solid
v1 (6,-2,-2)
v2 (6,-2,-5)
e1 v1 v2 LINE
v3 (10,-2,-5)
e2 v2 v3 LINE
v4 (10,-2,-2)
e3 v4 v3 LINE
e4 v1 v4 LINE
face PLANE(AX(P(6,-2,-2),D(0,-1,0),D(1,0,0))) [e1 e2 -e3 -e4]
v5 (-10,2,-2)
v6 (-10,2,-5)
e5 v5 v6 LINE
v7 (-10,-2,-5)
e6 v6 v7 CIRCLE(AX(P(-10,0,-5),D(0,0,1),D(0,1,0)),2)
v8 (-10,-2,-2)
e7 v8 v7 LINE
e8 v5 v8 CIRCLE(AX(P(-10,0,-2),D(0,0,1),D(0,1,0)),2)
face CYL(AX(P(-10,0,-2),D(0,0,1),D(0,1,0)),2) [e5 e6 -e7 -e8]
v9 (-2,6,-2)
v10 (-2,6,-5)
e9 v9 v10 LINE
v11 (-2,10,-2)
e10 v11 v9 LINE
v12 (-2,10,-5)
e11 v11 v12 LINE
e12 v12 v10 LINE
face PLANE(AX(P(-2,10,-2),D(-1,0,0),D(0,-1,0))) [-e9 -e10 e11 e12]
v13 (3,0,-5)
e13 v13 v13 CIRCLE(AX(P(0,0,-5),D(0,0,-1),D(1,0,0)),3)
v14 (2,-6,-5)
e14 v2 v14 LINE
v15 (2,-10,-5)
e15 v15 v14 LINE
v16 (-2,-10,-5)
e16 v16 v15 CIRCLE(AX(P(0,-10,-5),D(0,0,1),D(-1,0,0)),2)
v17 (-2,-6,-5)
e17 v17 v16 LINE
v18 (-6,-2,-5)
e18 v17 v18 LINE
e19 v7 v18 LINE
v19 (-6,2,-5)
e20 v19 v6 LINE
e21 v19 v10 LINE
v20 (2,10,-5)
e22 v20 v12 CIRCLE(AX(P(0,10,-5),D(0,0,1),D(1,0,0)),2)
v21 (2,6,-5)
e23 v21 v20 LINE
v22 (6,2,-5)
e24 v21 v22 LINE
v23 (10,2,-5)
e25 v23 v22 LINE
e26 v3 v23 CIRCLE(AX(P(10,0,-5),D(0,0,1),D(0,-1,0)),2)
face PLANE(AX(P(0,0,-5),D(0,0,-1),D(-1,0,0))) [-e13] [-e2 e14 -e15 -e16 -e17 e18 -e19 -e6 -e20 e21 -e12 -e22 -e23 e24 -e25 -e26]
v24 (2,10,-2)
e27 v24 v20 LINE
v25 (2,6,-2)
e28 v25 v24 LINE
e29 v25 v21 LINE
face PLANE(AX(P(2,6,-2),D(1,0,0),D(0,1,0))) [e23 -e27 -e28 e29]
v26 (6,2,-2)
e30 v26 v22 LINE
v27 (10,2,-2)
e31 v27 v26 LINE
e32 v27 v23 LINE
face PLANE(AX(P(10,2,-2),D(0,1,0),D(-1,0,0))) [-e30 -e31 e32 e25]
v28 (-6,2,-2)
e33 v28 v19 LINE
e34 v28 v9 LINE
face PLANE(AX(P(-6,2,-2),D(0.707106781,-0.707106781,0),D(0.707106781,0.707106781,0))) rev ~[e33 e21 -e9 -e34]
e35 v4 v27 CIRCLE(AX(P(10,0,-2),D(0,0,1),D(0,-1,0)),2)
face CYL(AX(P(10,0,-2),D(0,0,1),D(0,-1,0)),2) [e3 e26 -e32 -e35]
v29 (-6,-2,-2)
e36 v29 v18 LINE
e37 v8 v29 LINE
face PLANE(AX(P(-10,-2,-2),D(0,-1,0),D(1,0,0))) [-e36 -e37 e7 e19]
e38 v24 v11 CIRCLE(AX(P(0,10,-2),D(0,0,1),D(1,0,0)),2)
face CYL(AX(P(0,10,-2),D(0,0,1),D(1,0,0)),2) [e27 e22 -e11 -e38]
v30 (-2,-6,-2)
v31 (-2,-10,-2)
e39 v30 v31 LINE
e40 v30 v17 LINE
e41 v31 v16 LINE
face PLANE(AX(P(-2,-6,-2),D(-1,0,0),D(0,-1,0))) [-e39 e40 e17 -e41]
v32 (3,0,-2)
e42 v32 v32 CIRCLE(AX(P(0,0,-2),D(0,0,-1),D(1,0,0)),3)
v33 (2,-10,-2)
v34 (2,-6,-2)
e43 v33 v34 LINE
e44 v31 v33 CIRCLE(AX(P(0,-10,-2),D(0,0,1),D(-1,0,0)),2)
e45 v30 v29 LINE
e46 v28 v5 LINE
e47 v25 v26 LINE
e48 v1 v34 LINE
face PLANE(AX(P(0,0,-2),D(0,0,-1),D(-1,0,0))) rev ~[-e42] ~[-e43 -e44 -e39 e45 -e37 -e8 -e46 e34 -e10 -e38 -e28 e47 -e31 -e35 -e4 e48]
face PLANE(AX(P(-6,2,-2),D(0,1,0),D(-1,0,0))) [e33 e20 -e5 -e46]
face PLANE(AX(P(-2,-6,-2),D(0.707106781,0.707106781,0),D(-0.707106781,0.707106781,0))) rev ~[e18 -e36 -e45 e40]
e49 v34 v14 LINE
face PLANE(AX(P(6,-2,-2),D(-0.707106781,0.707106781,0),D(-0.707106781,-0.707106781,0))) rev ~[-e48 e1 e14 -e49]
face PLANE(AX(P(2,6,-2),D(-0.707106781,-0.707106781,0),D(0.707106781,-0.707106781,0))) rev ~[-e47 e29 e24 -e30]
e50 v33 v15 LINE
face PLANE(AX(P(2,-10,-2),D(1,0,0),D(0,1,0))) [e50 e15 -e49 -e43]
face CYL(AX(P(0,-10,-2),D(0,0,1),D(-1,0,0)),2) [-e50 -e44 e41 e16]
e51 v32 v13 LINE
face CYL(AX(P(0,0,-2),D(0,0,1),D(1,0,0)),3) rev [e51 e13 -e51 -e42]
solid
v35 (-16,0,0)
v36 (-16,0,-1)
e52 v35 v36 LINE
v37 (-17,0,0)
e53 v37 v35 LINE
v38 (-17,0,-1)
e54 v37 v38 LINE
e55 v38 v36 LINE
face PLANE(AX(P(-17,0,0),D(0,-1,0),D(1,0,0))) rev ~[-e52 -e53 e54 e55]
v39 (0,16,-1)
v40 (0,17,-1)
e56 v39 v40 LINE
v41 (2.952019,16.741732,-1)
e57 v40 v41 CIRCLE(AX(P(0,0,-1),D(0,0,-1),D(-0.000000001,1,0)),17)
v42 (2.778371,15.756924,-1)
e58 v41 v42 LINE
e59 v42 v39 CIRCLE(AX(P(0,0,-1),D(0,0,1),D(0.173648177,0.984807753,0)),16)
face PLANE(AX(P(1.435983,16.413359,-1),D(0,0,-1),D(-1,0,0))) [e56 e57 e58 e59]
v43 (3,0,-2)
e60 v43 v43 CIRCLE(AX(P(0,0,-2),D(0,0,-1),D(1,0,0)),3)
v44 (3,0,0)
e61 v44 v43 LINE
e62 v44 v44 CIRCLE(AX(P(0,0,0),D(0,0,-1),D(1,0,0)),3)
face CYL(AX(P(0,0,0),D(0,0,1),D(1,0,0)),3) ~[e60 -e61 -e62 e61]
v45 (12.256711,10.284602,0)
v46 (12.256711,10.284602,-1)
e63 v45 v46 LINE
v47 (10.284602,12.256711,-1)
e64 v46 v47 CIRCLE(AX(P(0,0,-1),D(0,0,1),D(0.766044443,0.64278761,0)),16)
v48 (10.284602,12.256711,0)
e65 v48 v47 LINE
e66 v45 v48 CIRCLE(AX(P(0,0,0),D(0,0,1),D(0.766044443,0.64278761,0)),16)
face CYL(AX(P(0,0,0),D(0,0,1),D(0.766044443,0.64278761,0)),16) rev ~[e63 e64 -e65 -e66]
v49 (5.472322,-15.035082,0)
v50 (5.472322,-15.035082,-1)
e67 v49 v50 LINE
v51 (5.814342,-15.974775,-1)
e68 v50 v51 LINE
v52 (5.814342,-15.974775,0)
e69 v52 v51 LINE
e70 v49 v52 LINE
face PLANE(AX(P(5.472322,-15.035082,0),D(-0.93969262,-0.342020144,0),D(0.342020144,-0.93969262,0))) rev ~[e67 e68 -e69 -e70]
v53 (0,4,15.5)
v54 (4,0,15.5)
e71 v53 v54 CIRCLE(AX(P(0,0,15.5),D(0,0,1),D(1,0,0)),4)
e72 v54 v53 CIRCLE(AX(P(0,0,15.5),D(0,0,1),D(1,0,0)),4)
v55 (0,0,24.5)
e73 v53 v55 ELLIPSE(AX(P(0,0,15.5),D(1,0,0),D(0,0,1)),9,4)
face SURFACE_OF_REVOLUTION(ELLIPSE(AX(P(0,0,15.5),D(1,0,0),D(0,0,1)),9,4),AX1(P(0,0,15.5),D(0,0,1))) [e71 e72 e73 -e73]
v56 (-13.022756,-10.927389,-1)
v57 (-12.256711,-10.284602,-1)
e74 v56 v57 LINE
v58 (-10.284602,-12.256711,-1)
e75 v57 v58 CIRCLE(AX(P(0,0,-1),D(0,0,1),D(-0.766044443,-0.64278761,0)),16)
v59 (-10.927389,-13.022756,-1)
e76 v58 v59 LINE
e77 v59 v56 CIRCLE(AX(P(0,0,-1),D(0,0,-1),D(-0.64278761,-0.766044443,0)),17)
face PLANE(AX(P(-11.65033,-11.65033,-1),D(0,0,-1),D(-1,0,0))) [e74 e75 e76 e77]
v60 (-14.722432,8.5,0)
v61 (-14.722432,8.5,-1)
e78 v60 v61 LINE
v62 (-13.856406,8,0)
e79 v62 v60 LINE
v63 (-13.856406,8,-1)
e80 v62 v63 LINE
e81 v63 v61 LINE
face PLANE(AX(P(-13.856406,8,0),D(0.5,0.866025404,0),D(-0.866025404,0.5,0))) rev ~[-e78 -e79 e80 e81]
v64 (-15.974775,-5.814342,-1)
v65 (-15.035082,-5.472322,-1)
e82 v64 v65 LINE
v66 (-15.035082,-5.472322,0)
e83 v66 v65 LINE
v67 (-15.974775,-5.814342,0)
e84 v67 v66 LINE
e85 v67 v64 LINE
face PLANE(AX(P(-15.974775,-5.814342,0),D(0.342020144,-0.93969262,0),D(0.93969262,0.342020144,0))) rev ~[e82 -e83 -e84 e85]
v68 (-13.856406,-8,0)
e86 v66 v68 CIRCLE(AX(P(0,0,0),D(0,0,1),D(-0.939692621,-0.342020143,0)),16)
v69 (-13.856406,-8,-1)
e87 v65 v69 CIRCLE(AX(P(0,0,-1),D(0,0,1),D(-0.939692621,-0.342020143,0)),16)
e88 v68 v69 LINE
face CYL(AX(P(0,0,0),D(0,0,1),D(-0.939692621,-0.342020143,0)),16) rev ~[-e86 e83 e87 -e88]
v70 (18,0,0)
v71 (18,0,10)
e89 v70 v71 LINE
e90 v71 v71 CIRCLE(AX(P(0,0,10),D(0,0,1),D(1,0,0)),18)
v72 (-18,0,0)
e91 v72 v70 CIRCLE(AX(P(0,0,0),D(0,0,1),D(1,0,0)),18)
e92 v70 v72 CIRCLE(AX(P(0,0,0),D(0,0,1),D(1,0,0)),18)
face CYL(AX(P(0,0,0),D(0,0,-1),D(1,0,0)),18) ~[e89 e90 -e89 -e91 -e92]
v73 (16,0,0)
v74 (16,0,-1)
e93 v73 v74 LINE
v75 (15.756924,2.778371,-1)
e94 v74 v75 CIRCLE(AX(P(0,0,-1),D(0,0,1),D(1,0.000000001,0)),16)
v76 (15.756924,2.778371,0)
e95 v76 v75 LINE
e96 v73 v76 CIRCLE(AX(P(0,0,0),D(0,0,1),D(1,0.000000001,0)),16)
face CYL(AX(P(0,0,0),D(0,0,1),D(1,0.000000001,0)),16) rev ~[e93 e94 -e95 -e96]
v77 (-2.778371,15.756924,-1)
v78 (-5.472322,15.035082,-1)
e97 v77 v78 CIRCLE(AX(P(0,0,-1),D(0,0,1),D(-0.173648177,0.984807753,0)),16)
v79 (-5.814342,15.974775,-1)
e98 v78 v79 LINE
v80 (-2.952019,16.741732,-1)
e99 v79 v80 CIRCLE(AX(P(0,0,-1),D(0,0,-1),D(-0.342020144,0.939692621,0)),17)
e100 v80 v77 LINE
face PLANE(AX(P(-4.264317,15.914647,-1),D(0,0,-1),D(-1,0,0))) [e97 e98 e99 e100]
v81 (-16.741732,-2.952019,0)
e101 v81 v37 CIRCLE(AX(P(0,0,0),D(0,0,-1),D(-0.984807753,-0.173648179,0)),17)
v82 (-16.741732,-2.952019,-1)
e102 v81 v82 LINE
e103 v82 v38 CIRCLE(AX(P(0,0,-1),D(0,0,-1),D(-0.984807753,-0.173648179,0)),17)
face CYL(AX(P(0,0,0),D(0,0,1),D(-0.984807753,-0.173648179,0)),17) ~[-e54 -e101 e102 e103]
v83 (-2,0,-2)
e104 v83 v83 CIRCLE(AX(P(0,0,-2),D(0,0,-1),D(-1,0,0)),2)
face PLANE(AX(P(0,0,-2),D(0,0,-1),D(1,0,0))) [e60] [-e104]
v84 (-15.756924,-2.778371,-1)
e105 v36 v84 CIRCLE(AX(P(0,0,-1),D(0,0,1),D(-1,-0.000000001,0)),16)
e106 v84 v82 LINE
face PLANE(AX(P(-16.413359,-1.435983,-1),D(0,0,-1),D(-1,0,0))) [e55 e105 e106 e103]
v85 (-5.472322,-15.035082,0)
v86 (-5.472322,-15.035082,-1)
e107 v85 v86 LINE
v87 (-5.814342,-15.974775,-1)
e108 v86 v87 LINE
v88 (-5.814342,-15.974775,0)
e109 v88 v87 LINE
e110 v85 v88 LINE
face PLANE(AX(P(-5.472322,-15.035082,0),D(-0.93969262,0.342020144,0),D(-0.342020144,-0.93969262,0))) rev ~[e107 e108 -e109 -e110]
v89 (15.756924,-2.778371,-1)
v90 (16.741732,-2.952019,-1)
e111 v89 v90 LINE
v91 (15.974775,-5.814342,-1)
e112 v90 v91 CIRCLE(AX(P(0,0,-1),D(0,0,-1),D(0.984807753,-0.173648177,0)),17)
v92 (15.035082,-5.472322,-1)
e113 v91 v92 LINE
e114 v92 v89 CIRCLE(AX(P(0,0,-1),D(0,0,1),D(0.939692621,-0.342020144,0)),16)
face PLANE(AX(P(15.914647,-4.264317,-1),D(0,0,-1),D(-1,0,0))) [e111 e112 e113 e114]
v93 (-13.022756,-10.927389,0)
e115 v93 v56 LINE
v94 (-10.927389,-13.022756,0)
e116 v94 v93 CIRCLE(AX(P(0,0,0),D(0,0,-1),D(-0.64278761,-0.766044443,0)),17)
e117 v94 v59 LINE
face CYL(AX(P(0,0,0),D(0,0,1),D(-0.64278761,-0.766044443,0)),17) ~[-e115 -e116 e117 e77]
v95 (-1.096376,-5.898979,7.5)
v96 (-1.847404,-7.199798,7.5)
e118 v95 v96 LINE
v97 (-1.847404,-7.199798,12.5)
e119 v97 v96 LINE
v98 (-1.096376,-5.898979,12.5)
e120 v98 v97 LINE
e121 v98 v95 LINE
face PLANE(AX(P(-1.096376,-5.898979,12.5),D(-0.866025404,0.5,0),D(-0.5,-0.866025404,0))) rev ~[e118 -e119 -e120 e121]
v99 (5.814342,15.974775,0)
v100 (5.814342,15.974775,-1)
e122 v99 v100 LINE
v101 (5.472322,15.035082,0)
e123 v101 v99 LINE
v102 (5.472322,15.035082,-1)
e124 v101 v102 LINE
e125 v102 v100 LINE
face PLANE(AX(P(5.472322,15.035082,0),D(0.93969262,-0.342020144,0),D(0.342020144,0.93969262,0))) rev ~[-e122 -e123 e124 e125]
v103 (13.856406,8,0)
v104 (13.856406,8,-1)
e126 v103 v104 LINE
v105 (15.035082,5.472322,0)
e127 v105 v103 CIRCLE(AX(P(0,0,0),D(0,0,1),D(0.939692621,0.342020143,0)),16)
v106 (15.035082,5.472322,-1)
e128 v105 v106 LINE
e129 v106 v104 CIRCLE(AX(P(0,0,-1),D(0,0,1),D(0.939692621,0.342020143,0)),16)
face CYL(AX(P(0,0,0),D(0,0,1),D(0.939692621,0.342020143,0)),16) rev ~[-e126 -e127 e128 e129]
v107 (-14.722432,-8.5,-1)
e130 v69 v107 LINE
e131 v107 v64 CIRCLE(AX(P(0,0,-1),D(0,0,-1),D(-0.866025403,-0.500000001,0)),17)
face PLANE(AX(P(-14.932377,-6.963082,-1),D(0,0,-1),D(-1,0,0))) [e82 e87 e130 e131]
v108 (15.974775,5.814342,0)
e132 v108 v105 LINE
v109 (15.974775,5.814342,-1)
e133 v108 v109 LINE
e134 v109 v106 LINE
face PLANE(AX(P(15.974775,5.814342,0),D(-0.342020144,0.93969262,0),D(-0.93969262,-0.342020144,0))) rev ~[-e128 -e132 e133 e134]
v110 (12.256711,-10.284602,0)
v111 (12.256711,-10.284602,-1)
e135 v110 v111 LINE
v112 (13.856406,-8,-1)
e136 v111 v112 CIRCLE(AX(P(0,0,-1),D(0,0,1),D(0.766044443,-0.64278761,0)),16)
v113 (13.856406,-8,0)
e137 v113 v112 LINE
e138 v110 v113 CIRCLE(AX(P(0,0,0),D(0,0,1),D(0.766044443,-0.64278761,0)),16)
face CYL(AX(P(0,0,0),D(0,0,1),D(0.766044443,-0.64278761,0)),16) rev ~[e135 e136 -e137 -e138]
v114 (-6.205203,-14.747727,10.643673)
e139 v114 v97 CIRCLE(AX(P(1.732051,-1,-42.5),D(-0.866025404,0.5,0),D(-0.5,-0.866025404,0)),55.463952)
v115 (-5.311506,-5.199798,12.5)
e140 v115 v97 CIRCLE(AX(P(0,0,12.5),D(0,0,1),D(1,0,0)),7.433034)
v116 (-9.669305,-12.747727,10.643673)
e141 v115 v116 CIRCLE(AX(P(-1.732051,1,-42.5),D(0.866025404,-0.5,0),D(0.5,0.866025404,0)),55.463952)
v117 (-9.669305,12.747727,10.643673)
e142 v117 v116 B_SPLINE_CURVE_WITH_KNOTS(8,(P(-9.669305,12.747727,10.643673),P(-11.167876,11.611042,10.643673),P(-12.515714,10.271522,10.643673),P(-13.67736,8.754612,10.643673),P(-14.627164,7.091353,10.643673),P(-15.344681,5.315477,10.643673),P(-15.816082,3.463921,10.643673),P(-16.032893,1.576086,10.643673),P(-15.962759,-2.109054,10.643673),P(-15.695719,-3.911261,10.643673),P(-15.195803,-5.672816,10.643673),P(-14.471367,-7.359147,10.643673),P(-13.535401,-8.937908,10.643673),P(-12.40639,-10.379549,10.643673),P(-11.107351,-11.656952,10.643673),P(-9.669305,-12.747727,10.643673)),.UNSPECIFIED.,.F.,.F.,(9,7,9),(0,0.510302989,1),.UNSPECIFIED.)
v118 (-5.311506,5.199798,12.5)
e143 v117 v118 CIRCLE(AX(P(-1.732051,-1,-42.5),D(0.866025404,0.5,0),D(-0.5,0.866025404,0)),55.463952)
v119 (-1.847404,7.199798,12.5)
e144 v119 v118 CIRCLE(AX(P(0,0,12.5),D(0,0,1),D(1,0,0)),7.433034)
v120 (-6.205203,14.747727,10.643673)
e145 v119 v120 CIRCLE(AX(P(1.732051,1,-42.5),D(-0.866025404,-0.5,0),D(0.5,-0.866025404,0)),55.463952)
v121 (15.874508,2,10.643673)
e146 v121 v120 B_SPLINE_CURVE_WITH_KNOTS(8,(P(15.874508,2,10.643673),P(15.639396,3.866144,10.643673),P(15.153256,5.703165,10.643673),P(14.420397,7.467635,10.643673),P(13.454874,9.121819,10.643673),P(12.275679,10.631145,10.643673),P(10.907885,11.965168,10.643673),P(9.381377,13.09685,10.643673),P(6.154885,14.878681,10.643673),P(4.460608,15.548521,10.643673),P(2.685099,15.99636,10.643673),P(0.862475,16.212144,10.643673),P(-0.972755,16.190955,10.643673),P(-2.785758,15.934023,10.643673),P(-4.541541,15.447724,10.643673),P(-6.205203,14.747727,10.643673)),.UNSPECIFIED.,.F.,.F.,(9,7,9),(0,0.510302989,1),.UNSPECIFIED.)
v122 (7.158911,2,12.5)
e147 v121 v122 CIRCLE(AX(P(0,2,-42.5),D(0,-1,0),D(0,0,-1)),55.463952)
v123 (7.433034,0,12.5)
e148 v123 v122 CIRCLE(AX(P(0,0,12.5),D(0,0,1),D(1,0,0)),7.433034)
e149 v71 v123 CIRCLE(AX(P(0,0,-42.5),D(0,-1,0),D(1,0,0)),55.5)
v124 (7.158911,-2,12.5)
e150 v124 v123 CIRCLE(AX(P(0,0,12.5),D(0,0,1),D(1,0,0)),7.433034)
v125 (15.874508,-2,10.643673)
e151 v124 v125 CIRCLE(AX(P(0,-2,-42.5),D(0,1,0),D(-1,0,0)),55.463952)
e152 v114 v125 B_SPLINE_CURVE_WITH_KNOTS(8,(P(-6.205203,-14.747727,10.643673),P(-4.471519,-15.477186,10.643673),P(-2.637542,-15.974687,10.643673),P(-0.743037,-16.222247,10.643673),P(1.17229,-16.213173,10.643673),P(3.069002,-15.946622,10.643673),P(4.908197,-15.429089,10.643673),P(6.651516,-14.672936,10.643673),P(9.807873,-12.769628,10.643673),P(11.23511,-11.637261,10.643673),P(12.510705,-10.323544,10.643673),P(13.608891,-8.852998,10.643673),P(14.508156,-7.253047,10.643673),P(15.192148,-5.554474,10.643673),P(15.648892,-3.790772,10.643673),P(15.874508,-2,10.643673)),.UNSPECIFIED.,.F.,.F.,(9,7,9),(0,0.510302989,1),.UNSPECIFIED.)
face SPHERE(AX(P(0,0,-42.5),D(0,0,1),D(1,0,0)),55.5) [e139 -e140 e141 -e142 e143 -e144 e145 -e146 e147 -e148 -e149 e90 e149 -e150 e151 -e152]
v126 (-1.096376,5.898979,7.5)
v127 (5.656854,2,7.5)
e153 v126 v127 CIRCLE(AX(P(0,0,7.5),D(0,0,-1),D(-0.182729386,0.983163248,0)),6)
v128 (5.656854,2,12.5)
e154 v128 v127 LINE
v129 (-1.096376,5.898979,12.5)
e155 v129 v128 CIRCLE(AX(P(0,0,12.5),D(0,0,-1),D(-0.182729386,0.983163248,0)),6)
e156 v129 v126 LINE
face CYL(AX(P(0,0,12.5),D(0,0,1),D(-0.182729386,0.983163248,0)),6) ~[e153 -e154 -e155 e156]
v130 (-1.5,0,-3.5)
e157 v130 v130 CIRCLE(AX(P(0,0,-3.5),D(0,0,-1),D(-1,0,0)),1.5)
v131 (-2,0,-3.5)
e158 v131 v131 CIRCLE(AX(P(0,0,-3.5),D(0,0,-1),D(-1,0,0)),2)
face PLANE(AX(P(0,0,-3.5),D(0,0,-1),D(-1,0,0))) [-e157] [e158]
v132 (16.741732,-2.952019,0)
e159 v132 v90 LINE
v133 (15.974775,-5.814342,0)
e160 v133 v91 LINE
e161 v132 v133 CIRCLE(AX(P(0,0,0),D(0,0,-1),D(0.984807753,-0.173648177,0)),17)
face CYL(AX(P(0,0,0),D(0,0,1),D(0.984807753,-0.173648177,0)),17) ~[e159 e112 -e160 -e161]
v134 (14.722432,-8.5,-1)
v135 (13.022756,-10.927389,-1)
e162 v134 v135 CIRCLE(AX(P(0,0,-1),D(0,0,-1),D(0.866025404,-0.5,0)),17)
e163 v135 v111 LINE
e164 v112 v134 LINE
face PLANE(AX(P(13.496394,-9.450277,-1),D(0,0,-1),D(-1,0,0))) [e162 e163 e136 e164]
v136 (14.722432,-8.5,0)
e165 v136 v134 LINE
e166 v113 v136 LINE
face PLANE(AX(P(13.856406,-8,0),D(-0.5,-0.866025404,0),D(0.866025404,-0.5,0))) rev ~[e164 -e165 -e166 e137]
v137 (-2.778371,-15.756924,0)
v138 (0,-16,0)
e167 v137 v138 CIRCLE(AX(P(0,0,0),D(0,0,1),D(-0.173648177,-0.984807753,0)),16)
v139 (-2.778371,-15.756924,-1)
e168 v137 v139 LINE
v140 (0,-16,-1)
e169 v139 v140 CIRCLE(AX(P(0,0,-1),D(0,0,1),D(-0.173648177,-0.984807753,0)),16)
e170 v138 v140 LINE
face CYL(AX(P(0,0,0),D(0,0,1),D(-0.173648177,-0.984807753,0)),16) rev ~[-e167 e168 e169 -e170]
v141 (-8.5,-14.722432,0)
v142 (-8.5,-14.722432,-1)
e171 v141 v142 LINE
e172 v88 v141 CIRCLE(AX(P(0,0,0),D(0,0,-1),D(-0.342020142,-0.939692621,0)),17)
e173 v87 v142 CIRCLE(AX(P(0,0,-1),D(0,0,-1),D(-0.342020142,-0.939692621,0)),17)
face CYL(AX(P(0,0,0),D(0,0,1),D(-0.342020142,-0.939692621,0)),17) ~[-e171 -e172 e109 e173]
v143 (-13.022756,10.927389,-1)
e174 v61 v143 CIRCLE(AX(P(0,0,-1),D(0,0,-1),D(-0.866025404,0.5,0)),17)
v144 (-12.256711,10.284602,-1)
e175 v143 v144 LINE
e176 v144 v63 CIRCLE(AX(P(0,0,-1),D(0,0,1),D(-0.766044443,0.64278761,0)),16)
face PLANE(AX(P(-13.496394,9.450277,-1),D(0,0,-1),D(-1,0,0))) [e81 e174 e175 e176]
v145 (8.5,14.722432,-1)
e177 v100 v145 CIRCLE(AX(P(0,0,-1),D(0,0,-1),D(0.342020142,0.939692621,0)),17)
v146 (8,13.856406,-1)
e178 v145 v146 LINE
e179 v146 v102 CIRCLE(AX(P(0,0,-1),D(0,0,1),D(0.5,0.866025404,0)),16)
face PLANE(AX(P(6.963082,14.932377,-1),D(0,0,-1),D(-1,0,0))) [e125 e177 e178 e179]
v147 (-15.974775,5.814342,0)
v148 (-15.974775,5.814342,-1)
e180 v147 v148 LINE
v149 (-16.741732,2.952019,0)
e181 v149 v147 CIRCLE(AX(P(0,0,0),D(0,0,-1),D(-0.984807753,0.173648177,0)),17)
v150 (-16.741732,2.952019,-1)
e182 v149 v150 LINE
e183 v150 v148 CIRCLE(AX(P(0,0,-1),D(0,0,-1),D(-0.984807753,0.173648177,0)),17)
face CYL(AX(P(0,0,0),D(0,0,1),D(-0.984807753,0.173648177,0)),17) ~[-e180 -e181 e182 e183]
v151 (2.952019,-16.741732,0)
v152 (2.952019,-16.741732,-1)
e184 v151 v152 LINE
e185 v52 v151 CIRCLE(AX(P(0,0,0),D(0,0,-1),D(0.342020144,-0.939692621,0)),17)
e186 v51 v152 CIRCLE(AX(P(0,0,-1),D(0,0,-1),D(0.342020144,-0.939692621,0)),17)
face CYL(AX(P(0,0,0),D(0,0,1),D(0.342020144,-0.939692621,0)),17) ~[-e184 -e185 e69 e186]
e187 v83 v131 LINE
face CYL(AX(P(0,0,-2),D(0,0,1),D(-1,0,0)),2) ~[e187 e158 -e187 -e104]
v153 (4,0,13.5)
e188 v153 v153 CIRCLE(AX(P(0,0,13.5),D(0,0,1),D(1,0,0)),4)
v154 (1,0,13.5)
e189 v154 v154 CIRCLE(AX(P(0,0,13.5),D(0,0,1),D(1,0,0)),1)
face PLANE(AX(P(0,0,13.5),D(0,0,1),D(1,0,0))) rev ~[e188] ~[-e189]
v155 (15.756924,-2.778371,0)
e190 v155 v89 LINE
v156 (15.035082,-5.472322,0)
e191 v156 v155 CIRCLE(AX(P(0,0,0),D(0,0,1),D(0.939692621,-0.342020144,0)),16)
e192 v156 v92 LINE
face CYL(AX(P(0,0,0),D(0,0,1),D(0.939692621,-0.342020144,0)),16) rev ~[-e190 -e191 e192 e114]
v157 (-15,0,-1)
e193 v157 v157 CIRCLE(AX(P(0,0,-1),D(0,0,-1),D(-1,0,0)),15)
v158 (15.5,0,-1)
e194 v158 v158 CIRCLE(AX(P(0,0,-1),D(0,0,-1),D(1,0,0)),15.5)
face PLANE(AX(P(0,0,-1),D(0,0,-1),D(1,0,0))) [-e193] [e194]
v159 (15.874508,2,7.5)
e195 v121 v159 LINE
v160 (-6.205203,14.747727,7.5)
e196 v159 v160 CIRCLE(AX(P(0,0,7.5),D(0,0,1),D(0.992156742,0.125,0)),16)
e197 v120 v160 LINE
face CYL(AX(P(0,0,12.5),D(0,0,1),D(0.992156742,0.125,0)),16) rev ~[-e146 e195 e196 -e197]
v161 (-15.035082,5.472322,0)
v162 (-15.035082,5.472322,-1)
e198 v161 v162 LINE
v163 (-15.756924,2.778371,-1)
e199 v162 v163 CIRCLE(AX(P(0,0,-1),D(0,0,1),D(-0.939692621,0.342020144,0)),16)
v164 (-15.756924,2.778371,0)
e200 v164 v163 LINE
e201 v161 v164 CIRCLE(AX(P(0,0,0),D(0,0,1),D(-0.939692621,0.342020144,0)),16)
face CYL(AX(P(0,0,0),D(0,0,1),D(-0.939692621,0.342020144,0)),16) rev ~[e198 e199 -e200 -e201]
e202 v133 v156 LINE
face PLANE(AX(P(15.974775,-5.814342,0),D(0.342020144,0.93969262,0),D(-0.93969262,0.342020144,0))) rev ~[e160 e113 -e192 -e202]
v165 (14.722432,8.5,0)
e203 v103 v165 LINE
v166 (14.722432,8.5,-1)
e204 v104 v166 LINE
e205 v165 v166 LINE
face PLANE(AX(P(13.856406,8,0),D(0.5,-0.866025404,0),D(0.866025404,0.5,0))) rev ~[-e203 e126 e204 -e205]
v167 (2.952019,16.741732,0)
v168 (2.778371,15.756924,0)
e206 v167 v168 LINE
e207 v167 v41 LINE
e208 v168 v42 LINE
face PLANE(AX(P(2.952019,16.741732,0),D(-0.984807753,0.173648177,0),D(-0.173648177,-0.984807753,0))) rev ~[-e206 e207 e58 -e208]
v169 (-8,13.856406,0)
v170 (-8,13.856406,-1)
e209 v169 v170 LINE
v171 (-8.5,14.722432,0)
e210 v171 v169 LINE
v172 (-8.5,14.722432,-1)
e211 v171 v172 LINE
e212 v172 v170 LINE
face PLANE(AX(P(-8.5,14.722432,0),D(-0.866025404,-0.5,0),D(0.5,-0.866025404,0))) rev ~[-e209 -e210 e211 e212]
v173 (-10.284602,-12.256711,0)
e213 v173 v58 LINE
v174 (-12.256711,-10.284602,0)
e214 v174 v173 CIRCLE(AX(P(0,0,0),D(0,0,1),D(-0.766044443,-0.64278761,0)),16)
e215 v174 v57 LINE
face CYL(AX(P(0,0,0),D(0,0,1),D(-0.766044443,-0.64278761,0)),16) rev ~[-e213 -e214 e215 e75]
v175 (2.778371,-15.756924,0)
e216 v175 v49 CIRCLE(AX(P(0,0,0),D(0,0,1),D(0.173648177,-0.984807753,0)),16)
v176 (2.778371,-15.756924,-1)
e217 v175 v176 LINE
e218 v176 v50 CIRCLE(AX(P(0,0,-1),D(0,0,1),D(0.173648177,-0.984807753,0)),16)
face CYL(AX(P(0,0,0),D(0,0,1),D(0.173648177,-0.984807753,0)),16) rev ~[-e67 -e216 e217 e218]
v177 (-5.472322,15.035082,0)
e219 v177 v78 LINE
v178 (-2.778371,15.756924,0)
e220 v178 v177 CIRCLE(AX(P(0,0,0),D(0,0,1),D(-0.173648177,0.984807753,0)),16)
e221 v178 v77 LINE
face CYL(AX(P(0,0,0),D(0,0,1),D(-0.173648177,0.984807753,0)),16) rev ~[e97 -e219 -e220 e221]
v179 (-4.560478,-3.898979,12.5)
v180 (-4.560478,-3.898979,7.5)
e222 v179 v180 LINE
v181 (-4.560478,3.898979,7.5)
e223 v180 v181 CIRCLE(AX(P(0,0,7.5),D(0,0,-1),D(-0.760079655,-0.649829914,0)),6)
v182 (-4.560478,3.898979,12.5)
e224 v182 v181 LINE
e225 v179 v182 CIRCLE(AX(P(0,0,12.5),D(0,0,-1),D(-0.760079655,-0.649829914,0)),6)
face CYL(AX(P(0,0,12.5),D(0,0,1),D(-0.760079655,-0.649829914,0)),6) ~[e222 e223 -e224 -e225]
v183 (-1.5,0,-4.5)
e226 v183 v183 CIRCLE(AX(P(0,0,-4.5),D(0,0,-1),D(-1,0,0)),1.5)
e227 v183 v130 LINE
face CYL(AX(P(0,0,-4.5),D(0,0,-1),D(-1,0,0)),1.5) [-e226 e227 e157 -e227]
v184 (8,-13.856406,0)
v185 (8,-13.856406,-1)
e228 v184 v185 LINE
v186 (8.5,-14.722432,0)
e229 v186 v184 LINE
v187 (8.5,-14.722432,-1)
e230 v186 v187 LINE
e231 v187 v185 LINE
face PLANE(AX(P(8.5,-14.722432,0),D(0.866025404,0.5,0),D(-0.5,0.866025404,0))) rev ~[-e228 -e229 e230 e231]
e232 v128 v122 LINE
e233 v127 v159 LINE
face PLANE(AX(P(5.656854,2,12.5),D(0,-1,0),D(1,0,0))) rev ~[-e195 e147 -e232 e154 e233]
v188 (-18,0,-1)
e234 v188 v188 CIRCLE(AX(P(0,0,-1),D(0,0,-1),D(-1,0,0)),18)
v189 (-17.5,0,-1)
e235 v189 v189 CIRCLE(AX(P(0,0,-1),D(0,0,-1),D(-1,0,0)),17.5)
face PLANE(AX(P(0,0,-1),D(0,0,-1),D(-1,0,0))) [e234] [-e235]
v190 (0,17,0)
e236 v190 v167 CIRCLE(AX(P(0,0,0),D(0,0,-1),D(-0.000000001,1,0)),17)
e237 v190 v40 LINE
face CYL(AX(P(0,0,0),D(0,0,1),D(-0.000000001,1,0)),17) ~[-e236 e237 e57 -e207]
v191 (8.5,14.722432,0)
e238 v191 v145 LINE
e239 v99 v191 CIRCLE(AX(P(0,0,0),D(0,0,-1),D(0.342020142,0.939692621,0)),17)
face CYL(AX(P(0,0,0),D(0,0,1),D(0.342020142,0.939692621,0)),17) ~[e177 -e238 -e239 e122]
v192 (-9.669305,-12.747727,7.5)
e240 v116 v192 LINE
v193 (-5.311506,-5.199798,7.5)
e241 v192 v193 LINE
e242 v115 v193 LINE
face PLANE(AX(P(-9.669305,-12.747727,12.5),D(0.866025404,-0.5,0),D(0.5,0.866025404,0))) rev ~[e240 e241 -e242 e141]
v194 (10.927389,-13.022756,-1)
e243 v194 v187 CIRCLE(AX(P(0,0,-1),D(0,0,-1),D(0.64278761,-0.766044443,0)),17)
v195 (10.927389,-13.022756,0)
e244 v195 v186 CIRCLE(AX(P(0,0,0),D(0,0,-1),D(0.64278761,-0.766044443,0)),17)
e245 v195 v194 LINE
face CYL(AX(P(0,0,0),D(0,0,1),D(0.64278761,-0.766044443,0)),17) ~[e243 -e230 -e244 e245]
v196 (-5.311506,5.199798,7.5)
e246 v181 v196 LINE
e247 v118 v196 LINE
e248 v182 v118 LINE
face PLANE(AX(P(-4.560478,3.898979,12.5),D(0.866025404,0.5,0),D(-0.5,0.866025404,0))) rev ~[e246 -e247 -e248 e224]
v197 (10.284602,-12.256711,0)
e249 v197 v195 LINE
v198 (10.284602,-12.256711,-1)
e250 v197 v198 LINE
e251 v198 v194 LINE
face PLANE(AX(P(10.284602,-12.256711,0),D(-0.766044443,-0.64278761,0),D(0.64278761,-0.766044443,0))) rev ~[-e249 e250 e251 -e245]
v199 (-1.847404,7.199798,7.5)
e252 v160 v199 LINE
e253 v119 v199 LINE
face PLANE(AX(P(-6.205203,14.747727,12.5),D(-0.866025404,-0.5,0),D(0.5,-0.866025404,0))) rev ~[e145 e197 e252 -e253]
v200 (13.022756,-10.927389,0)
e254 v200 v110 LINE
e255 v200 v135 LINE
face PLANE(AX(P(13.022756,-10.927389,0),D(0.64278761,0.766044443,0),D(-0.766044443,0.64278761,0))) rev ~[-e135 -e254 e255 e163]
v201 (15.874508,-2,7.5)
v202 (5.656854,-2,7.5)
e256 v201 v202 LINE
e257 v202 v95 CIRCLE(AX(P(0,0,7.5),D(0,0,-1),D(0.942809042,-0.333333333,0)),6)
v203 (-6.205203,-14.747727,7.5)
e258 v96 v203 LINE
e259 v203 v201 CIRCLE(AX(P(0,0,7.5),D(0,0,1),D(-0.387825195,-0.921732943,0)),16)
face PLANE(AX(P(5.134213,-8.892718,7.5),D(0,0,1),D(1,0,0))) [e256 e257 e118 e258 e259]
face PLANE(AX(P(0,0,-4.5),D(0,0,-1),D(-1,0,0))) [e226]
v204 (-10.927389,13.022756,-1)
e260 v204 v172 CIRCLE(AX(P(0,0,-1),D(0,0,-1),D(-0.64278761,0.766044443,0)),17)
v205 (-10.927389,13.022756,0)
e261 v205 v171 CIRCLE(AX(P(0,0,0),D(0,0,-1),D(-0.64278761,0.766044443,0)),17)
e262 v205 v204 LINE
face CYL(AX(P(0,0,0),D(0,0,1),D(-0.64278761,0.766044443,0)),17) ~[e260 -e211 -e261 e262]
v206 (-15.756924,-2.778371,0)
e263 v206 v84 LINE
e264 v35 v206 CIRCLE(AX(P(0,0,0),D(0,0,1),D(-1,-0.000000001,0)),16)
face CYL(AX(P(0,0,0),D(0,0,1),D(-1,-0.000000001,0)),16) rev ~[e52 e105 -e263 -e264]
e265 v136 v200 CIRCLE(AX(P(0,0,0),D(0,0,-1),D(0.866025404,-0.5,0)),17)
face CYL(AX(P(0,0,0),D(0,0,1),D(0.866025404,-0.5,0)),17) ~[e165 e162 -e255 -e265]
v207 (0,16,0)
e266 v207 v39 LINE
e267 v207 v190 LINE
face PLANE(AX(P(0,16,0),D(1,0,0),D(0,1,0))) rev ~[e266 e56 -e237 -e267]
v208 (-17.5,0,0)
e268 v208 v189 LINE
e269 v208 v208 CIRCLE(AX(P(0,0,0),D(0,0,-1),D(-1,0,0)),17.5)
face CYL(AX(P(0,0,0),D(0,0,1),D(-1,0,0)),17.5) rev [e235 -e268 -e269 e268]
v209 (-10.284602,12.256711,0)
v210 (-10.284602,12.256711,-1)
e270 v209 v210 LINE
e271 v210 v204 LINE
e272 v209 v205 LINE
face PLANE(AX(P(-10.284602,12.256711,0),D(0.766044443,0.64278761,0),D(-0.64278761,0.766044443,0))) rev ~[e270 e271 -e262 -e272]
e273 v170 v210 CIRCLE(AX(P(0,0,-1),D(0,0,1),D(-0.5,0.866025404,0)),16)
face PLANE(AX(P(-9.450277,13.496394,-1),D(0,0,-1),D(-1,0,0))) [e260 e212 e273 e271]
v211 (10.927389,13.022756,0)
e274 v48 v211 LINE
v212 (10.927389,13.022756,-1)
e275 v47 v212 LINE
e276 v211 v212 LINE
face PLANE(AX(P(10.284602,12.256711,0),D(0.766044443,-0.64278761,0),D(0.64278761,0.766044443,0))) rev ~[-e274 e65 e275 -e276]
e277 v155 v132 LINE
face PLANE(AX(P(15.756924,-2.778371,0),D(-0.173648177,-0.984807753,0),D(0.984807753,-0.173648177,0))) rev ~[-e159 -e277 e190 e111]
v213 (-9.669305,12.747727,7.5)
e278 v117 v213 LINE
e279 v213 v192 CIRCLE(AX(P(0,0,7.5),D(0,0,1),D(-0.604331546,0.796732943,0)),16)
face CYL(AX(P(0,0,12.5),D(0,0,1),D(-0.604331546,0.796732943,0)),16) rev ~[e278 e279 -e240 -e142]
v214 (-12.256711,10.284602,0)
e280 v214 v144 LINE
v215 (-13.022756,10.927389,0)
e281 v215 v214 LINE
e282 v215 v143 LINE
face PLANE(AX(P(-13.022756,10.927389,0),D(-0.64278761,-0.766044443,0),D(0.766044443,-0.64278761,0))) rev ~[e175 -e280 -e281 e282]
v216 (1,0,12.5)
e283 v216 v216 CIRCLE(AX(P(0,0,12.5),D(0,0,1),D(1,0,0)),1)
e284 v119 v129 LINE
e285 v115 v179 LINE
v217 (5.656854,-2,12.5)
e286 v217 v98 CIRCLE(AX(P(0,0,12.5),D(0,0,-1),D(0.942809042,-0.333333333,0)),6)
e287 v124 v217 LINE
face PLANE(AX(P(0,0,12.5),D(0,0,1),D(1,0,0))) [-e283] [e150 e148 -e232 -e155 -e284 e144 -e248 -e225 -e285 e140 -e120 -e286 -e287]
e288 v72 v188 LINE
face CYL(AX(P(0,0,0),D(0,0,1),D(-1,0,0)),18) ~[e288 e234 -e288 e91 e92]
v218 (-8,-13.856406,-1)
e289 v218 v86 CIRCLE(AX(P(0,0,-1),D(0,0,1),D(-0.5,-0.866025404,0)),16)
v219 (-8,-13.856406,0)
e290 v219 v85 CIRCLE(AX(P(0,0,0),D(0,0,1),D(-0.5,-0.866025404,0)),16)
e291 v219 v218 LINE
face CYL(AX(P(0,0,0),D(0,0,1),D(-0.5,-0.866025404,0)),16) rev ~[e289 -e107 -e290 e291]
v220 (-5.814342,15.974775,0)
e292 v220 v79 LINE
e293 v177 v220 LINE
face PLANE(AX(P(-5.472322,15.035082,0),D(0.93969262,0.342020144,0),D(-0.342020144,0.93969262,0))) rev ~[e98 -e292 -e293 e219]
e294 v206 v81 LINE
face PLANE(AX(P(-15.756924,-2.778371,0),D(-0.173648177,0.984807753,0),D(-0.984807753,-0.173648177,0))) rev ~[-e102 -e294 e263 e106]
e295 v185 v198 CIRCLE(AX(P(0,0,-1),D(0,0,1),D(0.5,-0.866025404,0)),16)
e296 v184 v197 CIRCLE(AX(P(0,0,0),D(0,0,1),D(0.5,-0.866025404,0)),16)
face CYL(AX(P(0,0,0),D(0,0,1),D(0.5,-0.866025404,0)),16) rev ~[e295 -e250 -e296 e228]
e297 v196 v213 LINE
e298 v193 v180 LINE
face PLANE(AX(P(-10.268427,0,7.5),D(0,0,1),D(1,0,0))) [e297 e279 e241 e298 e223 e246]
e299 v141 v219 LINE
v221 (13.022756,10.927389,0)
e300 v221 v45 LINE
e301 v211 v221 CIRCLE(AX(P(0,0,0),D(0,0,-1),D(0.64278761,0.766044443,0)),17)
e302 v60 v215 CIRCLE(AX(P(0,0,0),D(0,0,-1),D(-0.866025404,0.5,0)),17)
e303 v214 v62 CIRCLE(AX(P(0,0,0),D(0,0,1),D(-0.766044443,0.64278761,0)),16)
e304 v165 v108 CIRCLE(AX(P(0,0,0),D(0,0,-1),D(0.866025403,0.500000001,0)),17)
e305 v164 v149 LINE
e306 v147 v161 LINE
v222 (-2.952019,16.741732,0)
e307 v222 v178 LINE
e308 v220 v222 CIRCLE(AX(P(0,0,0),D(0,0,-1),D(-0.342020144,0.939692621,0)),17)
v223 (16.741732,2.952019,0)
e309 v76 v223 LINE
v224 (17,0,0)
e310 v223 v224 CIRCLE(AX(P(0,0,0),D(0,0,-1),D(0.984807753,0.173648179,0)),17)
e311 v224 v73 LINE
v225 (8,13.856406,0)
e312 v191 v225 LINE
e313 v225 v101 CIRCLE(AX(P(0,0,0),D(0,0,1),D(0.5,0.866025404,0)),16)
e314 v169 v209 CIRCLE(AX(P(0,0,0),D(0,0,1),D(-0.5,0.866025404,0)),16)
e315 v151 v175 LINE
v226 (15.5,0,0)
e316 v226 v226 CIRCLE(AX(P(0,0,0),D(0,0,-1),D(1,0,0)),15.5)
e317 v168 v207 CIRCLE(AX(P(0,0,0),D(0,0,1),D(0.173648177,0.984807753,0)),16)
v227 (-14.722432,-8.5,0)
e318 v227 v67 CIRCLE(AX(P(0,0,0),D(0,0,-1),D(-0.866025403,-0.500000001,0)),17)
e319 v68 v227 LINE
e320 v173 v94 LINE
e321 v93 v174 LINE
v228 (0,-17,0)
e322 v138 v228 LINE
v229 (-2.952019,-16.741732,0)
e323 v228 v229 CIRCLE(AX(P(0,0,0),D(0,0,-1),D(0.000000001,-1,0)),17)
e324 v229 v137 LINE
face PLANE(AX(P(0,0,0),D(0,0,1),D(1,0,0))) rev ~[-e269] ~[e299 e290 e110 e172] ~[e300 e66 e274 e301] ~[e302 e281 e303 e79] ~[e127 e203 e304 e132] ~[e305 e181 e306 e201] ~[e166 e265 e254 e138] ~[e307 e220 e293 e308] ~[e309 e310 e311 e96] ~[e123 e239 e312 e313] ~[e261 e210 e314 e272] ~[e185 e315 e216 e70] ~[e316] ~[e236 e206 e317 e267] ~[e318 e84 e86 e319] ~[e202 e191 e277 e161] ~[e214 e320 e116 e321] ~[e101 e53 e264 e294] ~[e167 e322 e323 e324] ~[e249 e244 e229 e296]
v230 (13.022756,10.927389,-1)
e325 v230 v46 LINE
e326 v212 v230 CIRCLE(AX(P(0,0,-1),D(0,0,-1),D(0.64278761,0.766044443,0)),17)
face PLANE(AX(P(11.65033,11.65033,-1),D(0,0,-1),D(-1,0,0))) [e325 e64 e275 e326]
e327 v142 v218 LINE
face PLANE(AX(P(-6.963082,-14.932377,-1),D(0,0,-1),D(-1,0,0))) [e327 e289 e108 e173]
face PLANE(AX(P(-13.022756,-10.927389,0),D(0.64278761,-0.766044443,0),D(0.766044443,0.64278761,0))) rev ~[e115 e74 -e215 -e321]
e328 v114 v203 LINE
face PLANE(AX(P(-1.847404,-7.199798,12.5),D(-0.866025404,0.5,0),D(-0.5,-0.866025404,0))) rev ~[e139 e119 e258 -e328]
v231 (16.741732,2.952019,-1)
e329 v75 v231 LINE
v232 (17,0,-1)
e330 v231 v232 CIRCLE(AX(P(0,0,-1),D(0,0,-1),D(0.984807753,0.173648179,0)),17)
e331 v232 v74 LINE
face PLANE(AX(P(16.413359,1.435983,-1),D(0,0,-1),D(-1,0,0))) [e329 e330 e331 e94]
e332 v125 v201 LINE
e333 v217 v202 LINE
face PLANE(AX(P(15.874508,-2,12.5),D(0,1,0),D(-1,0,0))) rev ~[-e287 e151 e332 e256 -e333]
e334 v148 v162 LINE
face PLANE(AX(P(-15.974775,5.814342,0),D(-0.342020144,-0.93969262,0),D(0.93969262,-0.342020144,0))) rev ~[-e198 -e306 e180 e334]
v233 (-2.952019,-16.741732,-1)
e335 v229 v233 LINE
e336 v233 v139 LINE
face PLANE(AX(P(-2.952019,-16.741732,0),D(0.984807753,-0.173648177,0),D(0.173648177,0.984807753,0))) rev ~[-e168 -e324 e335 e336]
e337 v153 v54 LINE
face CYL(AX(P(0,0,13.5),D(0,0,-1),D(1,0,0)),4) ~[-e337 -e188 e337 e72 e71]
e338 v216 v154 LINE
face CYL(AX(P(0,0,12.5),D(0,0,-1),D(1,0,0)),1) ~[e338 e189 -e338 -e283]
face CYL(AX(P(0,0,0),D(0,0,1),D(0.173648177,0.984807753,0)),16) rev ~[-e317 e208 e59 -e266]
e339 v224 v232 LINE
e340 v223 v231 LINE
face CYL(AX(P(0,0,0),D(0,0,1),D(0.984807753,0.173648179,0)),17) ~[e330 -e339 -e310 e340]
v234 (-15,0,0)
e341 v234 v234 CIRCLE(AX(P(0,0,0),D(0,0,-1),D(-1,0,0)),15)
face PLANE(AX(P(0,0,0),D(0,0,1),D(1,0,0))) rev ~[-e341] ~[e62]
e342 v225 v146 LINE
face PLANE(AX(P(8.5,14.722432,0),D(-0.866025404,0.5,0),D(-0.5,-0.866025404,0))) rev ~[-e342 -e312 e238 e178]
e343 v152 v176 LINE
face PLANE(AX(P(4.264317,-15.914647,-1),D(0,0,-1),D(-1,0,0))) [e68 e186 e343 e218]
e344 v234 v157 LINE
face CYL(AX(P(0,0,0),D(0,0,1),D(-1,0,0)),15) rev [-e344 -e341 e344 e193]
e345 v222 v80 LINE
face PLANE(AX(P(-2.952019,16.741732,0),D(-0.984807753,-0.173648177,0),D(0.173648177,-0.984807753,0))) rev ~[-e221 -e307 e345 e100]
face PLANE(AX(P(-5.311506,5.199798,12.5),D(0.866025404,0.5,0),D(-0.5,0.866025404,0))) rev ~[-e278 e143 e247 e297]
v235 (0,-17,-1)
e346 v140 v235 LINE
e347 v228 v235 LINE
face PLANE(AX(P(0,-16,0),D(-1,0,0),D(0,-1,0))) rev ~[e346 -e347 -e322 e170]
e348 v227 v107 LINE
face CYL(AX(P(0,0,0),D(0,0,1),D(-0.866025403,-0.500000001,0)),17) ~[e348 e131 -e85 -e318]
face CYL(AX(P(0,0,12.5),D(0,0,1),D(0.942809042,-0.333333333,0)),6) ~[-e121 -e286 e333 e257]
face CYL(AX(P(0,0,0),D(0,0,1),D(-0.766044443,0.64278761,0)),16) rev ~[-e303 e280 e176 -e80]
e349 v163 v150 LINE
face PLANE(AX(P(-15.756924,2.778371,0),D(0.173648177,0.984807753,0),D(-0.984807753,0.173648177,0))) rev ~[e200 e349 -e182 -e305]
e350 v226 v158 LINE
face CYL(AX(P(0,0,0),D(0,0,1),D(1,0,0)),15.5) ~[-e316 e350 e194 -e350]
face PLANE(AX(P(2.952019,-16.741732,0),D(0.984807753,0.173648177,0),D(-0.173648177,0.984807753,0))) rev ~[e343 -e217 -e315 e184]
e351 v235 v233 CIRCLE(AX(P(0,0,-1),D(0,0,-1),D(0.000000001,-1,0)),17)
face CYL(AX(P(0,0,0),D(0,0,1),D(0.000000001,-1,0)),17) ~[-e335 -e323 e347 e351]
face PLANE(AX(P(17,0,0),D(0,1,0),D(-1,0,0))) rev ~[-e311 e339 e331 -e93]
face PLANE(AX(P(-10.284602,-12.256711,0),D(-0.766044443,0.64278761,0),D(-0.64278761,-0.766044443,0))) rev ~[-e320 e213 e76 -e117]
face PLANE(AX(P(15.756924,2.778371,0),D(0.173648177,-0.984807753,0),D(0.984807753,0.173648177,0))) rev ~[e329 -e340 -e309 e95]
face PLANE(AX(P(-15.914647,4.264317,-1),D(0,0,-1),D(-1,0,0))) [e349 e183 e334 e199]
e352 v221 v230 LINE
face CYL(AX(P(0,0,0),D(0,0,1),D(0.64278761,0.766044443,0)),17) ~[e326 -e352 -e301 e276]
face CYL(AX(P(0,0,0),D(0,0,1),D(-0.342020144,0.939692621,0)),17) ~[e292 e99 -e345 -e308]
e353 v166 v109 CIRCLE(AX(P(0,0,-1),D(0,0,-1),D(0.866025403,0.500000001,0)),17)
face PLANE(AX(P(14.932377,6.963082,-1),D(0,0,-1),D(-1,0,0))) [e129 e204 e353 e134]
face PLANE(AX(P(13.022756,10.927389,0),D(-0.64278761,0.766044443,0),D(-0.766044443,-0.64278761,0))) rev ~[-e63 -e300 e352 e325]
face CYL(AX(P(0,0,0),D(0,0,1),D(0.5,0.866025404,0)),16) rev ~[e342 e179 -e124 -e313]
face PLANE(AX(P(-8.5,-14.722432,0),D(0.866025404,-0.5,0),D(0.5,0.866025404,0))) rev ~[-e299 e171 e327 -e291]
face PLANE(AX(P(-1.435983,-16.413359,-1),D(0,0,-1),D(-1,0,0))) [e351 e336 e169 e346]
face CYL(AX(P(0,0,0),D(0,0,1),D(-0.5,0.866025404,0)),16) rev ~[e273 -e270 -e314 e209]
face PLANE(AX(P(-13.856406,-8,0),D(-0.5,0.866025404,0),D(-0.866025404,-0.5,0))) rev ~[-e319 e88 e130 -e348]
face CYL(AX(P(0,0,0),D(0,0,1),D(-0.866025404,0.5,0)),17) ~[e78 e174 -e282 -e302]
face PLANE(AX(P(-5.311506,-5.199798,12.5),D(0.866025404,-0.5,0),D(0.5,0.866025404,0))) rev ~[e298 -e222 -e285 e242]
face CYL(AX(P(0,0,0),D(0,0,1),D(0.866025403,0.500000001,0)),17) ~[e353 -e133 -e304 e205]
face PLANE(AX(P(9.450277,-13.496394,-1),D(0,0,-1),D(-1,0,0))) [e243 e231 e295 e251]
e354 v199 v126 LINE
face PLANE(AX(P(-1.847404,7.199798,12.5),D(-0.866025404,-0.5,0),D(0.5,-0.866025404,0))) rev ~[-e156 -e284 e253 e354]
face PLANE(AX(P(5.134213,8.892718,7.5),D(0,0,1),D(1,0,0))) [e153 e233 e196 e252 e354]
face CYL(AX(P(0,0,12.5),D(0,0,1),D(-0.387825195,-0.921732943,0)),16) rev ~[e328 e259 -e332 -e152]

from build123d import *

# Parameters (mm, degrees)
SKETCH1_R            = 18
BOSS_EXTRUDE1_DEPTH  = 10
SKETCH5_R            = 3
BOSS_EXTRUDE4_DEPTH  = 2
BOSS_EXTRUDE9_DEPTH  = 3
CUT_EXTRUDE3_START   = -3
SKETCH12_R           = 3
SKETCH12_R_2         = 2
CUT_EXTRUDE3_DEPTH   = 3
SKETCH13_R           = 2.003734505
CUT_EXTRUDE4_DEPTH   = 0.5
SKETCH14_R           = 2
SKETCH14_R_2         = 1.5
CUT_EXTRUDE5_DEPTH   = 1
DOME4_FACE_RADIUS    = 18
DOME4_HEIGHT         = 3
SKETCH23_R           = 8
CUT_EXTRUDE16_DEPTH  = 9
CUT_EXTRUDE19_DEPTH  = 5
SKETCH26_R           = 1
BOSS_EXTRUDE10_DEPTH = 1
SKETCH27_R           = 4
BOSS_EXTRUDE12_DEPTH = 2
DOME5_FACE_RADIUS    = 4
DOME5_HEIGHT         = 9
BOSS_EXTRUDE15_DEPTH = 1
SKETCH29_R           = 18
SKETCH29_R_2         = 17.5
BOSS_EXTRUDE16_DEPTH = 1
SKETCH30_R           = 15.5
SKETCH30_R_2         = 15
BOSS_EXTRUDE17_DEPTH = 1


with BuildPart() as part:
    # Sketch1 → Boss-Extrude1 (new body)
    with BuildSketch(Plane.XY):
        Circle(SKETCH1_R)
    extrude(amount=BOSS_EXTRUDE1_DEPTH)

    # Sketch5 → Boss-Extrude4 (add)
    with BuildSketch(Plane(origin=(0, 0, 0), x_dir=(-1, 0, 0), z_dir=(0, 0, -1))):
        with Locations(Location((0, 0, 0), (0, 0, 180))):
            Circle(SKETCH5_R)
    extrude(amount=BOSS_EXTRUDE4_DEPTH)

    # Sketch6 → Boss-Extrude9 (add)
    with BuildSketch(Plane(origin=(0, 0, -2), x_dir=(-1, 0, 0), z_dir=(0, 0, -1))):
        Polygon((0, 8), (-8, 0), (0, -8), (8, 0), align=None)
        with BuildLine():
            Line((-10, 2), (10, 2))
            ThreePointArc((10, 2), (12, 0), (10, -2))
            Line((10, -2), (-10, -2))
            ThreePointArc((-10, -2), (-12, 0), (-10, 2))
        make_face()
        with BuildLine():
            Line((2, 10), (2, -10))
            ThreePointArc((2, -10), (0, -12), (-2, -10))
            Line((-2, -10), (-2, 10))
            ThreePointArc((-2, 10), (0, 12), (2, 10))
        make_face()
    extrude(amount=BOSS_EXTRUDE9_DEPTH)

    # Sketch12 → Cut-Extrude3 (cut)
    with BuildSketch(Plane(origin=(0, 0, -5), x_dir=(-1, 0, 0), z_dir=(0, 0, -1)).offset(CUT_EXTRUDE3_START)):
        with Locations(Location((0, 0, 0), (0, 0, 180))):
            Circle(SKETCH12_R)
        Circle(SKETCH12_R_2, mode=Mode.SUBTRACT)
    extrude(amount=CUT_EXTRUDE3_DEPTH, mode=Mode.SUBTRACT)


with BuildPart() as cut_extrude3_piece_1:
    # of the separate pieces the step leaves, piece 1, a body of its own (cut_extrude3_pieces)
    add(part.part.solids().sort_by_distance((3, 0, 0))[0])

    # Sketch13 → Cut-Extrude4 (cut)
    with BuildSketch(Plane(origin=(0, 0, -5), x_dir=(-1, 0, 0), z_dir=(0, 0, -1))):
        Circle(SKETCH13_R)
    extrude(amount=-CUT_EXTRUDE4_DEPTH, mode=Mode.SUBTRACT)

    # Sketch14 → Cut-Extrude5 (cut)
    with BuildSketch(Plane(origin=(0, 0, -4.5), x_dir=(-1, 0, 0), z_dir=(0, 0, -1))):
        Circle(SKETCH14_R)
        Circle(SKETCH14_R_2, mode=Mode.SUBTRACT)
    extrude(amount=-CUT_EXTRUDE5_DEPTH, mode=Mode.SUBTRACT)

    # Dome4: a dome of height H over a round flat face of radius A is a cap of a sphere of radius (A * A + H * H) / (2 * H)
    dome4_r = (DOME4_FACE_RADIUS * DOME4_FACE_RADIUS + DOME4_HEIGHT * DOME4_HEIGHT) / (2 * DOME4_HEIGHT)
    dome4_base = Plane((0, 0, 10), z_dir=(0, 0, 1))
    with Locations(dome4_base.offset(DOME4_HEIGHT - dome4_r)):
        dome4_ball = Sphere(dome4_r, mode=Mode.PRIVATE)
    add(split(dome4_ball, bisect_by=dome4_base, keep=Keep.TOP, mode=Mode.PRIVATE))

    # Sketch23 → Cut-Extrude16 (cut)
    with BuildSketch(Plane.XY.offset(12.5)):
        Circle(SKETCH23_R)
    extrude(amount=CUT_EXTRUDE16_DEPTH, mode=Mode.SUBTRACT)

    # Sketch25 → Cut-Extrude19 (cut)
    with BuildSketch(Plane.XY.offset(12.5)):
        with BuildLine():
            ThreePointArc((7.158910532, -2), (3.716517187, -6.437196595), (-1.847404458, -7.199798384))
            Line((-1.847404458, -7.199798384), (-6.205203126, -14.747727085))
            ThreePointArc((-6.205203126, -14.747727085), (8, -13.856406461), (15.874507866, -2))
            Line((15.874507866, -2), (7.158910532, -2))
        make_face()
        with BuildLine():
            ThreePointArc((5.656854249, -2), (3, -5.196152423), (-1.096376317, -5.898979486))
            Line((-1.096376317, -5.898979486), (-1.847404458, -7.199798384))
            ThreePointArc((-1.847404458, -7.199798384), (3.716517187, -6.437196595), (7.158910532, -2))
            Line((7.158910532, -2), (5.656854249, -2))
        make_face()
        with BuildLine():
            Line((-9.669304741, -12.747727085), (-5.311506073, -5.199798384))
            ThreePointArc((-5.311506073, -5.199798384), (-7.433034374, 0), (-5.311506073, 5.199798384))
            Line((-5.311506073, 5.199798384), (-9.669304741, 12.747727085))
            ThreePointArc((-9.669304741, 12.747727085), (-16, 0), (-9.669304741, -12.747727085))
        make_face()
        with BuildLine():
            Line((-5.311506073, -5.199798384), (-4.560477932, -3.898979486))
            ThreePointArc((-4.560477932, -3.898979486), (-6, 0), (-4.560477932, 3.898979486))
            Line((-4.560477932, 3.898979486), (-5.311506073, 5.199798384))
            ThreePointArc((-5.311506073, 5.199798384), (-7.433034374, 0), (-5.311506073, -5.199798384))
        make_face()
        with BuildLine():
            Line((-6.205203126, 14.747727085), (-1.847404458, 7.199798384))
            ThreePointArc((-1.847404458, 7.199798384), (3.716517187, 6.437196595), (7.158910532, 2))
            Line((7.158910532, 2), (15.874507866, 2))
            ThreePointArc((15.874507866, 2), (8, 13.856406461), (-6.205203126, 14.747727085))
        make_face()
        with BuildLine():
            Line((-1.847404458, 7.199798384), (-1.096376317, 5.898979486))
            ThreePointArc((-1.096376317, 5.898979486), (3, 5.196152423), (5.656854249, 2))
            Line((5.656854249, 2), (7.158910532, 2))
            ThreePointArc((7.158910532, 2), (3.716517187, 6.437196595), (-1.847404458, 7.199798384))
        make_face()
    extrude(amount=-CUT_EXTRUDE19_DEPTH, mode=Mode.SUBTRACT)

    # Sketch26 → Boss-Extrude10 (add)
    with BuildSketch(Plane.XY.offset(12.5)):
        Circle(SKETCH26_R)
    extrude(amount=BOSS_EXTRUDE10_DEPTH)

    # Sketch27 → Boss-Extrude12 (add)
    with BuildSketch(Plane.XY.offset(13.5)):
        Circle(SKETCH27_R)
    extrude(amount=BOSS_EXTRUDE12_DEPTH)

    # Dome5: an elliptical dome of height H over a round flat face of radius A is half a spheroid: the quarter ellipse of half axes A and H revolved about the face's axis
    with BuildSketch(Plane((0, 0, 15.5), x_dir=(0, 1, 0), z_dir=(1, 0, 0)), mode=Mode.PRIVATE) as dome5_quarter:
        Ellipse(DOME5_FACE_RADIUS, DOME5_HEIGHT)
        Rectangle(DOME5_FACE_RADIUS, DOME5_HEIGHT, align=(Align.MIN, Align.MIN), mode=Mode.INTERSECT)
    revolve(dome5_quarter.sketch, axis=Axis((0, 0, 15.5), (0, 0, 1)))

    # Sketch28 → Boss-Extrude15 (add)
    with BuildSketch(Plane(origin=(0, 0, 0), x_dir=(-1, 0, 0), z_dir=(0, 0, -1))):
        with BuildLine():
            Line((-13.022755533, -10.927389365), (-12.25671109, -10.284601755))
            ThreePointArc((-12.25671109, -10.284601755), (-13.106432709, -9.177222982), (-13.856406461, -8))
            Line((-13.856406461, -8), (-14.722431864, -8.5))
            ThreePointArc((-14.722431864, -8.5), (-13.925584753, -9.750799418), (-13.022755533, -10.927389365))
        make_face()
        with BuildLine():
            Line((-15.974774553, -5.814342437), (-15.035081933, -5.472322293))
            ThreePointArc((-15.035081933, -5.472322293), (-15.454813221, -4.141104722), (-15.756924048, -2.778370843))
            Line((-15.756924048, -2.778370843), (-16.741731801, -2.95201902))
            ThreePointArc((-16.741731801, -2.95201902), (-16.420739047, -4.399923767), (-15.974774553, -5.814342437))
        make_face()
        with BuildLine():
            Line((-17, 0), (-16, 0))
            ThreePointArc((-16, 0), (-15.939115169, 1.394491884), (-15.756924048, 2.778370843))
            Line((-15.756924048, 2.778370843), (-16.741731801, 2.95201902))
            ThreePointArc((-16.741731801, 2.95201902), (-16.935309868, 1.481647627), (-17, 0))
        make_face()
        with BuildLine():
            Line((-15.974774553, 5.814342437), (-15.035081933, 5.472322293))
            ThreePointArc((-15.035081933, 5.472322293), (-14.500924593, 6.761892188), (-13.856406461, 8))
            Line((-13.856406461, 8), (-14.722431864, 8.5))
            ThreePointArc((-14.722431864, 8.5), (-15.40723238, 7.18451045), (-15.974774553, 5.814342437))
        make_face()
        with BuildLine():
            Line((-13.022755533, 10.927389365), (-12.25671109, 10.284601755))
            ThreePointArc((-12.25671109, 10.284601755), (-11.313708499, 11.313708499), (-10.284601755, 12.25671109))
            Line((-10.284601755, 12.25671109), (-10.927389365, 13.022755533))
            ThreePointArc((-10.927389365, 13.022755533), (-12.02081528, 12.02081528), (-13.022755533, 10.927389365))
        make_face()
        with BuildLine():
            Line((-8.5, 14.722431864), (-8, 13.856406461))
            ThreePointArc((-8, 13.856406461), (-6.761892188, 14.500924593), (-5.472322293, 15.035081933))
            Line((-5.472322293, 15.035081933), (-5.814342437, 15.974774553))
            ThreePointArc((-5.814342437, 15.974774553), (-7.18451045, 15.40723238), (-8.5, 14.722431864))
        make_face()
        with BuildLine():
            ThreePointArc((-2.778370843, 15.756924048), (-1.394491884, 15.939115169), (0, 16))
            Line((0, 16), (0, 17))
            ThreePointArc((0, 17), (-1.481647627, 16.935309868), (-2.95201902, 16.741731801))
            Line((-2.95201902, 16.741731801), (-2.778370843, 15.756924048))
        make_face()
        with BuildLine():
            Line((13.022755533, -10.927389365), (12.25671109, -10.284601755))
            ThreePointArc((12.25671109, -10.284601755), (11.313708499, -11.313708499), (10.284601755, -12.25671109))
            Line((10.284601755, -12.25671109), (10.927389365, -13.022755533))
            ThreePointArc((10.927389365, -13.022755533), (12.02081528, -12.02081528), (13.022755533, -10.927389365))
        make_face()
        with BuildLine():
            Line((2.95201902, 16.741731801), (2.778370843, 15.756924048))
            ThreePointArc((2.778370843, 15.756924048), (4.141104722, 15.454813221), (5.472322293, 15.035081933))
            Line((5.472322293, 15.035081933), (5.814342437, 15.974774553))
            ThreePointArc((5.814342437, 15.974774553), (4.399923767, 16.420739047), (2.95201902, 16.741731801))
        make_face()
        with BuildLine():
            Line((8.5, 14.722431864), (8, 13.856406461))
            ThreePointArc((8, 13.856406461), (9.177222982, 13.106432709), (10.284601755, 12.25671109))
            Line((10.284601755, 12.25671109), (10.927389365, 13.022755533))
            ThreePointArc((10.927389365, 13.022755533), (9.750799418, 13.925584753), (8.5, 14.722431864))
        make_face()
        with BuildLine():
            Line((13.022755533, 10.927389365), (12.25671109, 10.284601755))
            ThreePointArc((12.25671109, 10.284601755), (13.106432709, 9.177222982), (13.856406461, 8))
            Line((13.856406461, 8), (14.722431864, 8.5))
            ThreePointArc((14.722431864, 8.5), (13.925584753, 9.750799418), (13.022755533, 10.927389365))
        make_face()
        with BuildLine():
            Line((15.974774553, 5.814342437), (15.035081933, 5.472322293))
            ThreePointArc((15.035081933, 5.472322293), (15.454813221, 4.141104722), (15.756924048, 2.778370843))
            Line((15.756924048, 2.778370843), (16.741731801, 2.95201902))
            ThreePointArc((16.741731801, 2.95201902), (16.420739047, 4.399923767), (15.974774553, 5.814342437))
        make_face()
        with BuildLine():
            Line((17, 0), (16, 0))
            ThreePointArc((16, 0), (15.939115169, -1.394491884), (15.756924048, -2.778370843))
            Line((15.756924048, -2.778370843), (16.741731801, -2.95201902))
            ThreePointArc((16.741731801, -2.95201902), (16.935309868, -1.481647627), (17, 0))
        make_face()
        with BuildLine():
            Line((15.974774553, -5.814342437), (15.035081933, -5.472322293))
            ThreePointArc((15.035081933, -5.472322293), (14.500924593, -6.761892188), (13.856406461, -8))
            Line((13.856406461, -8), (14.722431864, -8.5))
            ThreePointArc((14.722431864, -8.5), (15.40723238, -7.18451045), (15.974774553, -5.814342437))
        make_face()
        with BuildLine():
            Line((8.5, -14.722431864), (8, -13.856406461))
            ThreePointArc((8, -13.856406461), (6.761892188, -14.500924593), (5.472322293, -15.035081933))
            Line((5.472322293, -15.035081933), (5.814342437, -15.974774553))
            ThreePointArc((5.814342437, -15.974774553), (7.18451045, -15.40723238), (8.5, -14.722431864))
        make_face()
        with BuildLine():
            Line((2.95201902, -16.741731801), (2.778370843, -15.756924048))
            ThreePointArc((2.778370843, -15.756924048), (1.394491884, -15.939115169), (0, -16))
            Line((0, -16), (0, -17))
            ThreePointArc((0, -17), (1.481647627, -16.935309868), (2.95201902, -16.741731801))
        make_face()
        with BuildLine():
            Line((-2.95201902, -16.741731801), (-2.778370843, -15.756924048))
            ThreePointArc((-2.778370843, -15.756924048), (-4.141104722, -15.454813221), (-5.472322293, -15.035081933))
            Line((-5.472322293, -15.035081933), (-5.814342437, -15.974774553))
            ThreePointArc((-5.814342437, -15.974774553), (-4.399923767, -16.420739047), (-2.95201902, -16.741731801))
        make_face()
        with BuildLine():
            Line((-8.5, -14.722431864), (-8, -13.856406461))
            ThreePointArc((-8, -13.856406461), (-9.177222982, -13.106432709), (-10.284601755, -12.25671109))
            Line((-10.284601755, -12.25671109), (-10.927389365, -13.022755533))
            ThreePointArc((-10.927389365, -13.022755533), (-9.750799418, -13.925584753), (-8.5, -14.722431864))
        make_face()
    extrude(amount=BOSS_EXTRUDE15_DEPTH)

    # Sketch29 → Boss-Extrude16 (add)
    with BuildSketch(Plane(origin=(0, 0, 0), x_dir=(-1, 0, 0), z_dir=(0, 0, -1))):
        Circle(SKETCH29_R)
        Circle(SKETCH29_R_2, mode=Mode.SUBTRACT)
    extrude(amount=BOSS_EXTRUDE16_DEPTH)

    # Sketch30 → Boss-Extrude17 (add)
    with BuildSketch(Plane(origin=(0, 0, 0), x_dir=(-1, 0, 0), z_dir=(0, 0, -1))):
        with Locations(Location((0, 0, 0), (0, 0, 180))):
            Circle(SKETCH30_R)
        Circle(SKETCH30_R_2, mode=Mode.SUBTRACT)
    extrude(amount=BOSS_EXTRUDE17_DEPTH)


with BuildPart() as cut_extrude3_piece_2:
    # of the separate pieces the step leaves, piece 2, a body of its own (cut_extrude3_pieces)
    add(part.part.solids().sort_by_distance((-6, 2, -2))[0])


solid = Compound([cut_extrude3_piece_1.part, cut_extrude3_piece_2.part])
